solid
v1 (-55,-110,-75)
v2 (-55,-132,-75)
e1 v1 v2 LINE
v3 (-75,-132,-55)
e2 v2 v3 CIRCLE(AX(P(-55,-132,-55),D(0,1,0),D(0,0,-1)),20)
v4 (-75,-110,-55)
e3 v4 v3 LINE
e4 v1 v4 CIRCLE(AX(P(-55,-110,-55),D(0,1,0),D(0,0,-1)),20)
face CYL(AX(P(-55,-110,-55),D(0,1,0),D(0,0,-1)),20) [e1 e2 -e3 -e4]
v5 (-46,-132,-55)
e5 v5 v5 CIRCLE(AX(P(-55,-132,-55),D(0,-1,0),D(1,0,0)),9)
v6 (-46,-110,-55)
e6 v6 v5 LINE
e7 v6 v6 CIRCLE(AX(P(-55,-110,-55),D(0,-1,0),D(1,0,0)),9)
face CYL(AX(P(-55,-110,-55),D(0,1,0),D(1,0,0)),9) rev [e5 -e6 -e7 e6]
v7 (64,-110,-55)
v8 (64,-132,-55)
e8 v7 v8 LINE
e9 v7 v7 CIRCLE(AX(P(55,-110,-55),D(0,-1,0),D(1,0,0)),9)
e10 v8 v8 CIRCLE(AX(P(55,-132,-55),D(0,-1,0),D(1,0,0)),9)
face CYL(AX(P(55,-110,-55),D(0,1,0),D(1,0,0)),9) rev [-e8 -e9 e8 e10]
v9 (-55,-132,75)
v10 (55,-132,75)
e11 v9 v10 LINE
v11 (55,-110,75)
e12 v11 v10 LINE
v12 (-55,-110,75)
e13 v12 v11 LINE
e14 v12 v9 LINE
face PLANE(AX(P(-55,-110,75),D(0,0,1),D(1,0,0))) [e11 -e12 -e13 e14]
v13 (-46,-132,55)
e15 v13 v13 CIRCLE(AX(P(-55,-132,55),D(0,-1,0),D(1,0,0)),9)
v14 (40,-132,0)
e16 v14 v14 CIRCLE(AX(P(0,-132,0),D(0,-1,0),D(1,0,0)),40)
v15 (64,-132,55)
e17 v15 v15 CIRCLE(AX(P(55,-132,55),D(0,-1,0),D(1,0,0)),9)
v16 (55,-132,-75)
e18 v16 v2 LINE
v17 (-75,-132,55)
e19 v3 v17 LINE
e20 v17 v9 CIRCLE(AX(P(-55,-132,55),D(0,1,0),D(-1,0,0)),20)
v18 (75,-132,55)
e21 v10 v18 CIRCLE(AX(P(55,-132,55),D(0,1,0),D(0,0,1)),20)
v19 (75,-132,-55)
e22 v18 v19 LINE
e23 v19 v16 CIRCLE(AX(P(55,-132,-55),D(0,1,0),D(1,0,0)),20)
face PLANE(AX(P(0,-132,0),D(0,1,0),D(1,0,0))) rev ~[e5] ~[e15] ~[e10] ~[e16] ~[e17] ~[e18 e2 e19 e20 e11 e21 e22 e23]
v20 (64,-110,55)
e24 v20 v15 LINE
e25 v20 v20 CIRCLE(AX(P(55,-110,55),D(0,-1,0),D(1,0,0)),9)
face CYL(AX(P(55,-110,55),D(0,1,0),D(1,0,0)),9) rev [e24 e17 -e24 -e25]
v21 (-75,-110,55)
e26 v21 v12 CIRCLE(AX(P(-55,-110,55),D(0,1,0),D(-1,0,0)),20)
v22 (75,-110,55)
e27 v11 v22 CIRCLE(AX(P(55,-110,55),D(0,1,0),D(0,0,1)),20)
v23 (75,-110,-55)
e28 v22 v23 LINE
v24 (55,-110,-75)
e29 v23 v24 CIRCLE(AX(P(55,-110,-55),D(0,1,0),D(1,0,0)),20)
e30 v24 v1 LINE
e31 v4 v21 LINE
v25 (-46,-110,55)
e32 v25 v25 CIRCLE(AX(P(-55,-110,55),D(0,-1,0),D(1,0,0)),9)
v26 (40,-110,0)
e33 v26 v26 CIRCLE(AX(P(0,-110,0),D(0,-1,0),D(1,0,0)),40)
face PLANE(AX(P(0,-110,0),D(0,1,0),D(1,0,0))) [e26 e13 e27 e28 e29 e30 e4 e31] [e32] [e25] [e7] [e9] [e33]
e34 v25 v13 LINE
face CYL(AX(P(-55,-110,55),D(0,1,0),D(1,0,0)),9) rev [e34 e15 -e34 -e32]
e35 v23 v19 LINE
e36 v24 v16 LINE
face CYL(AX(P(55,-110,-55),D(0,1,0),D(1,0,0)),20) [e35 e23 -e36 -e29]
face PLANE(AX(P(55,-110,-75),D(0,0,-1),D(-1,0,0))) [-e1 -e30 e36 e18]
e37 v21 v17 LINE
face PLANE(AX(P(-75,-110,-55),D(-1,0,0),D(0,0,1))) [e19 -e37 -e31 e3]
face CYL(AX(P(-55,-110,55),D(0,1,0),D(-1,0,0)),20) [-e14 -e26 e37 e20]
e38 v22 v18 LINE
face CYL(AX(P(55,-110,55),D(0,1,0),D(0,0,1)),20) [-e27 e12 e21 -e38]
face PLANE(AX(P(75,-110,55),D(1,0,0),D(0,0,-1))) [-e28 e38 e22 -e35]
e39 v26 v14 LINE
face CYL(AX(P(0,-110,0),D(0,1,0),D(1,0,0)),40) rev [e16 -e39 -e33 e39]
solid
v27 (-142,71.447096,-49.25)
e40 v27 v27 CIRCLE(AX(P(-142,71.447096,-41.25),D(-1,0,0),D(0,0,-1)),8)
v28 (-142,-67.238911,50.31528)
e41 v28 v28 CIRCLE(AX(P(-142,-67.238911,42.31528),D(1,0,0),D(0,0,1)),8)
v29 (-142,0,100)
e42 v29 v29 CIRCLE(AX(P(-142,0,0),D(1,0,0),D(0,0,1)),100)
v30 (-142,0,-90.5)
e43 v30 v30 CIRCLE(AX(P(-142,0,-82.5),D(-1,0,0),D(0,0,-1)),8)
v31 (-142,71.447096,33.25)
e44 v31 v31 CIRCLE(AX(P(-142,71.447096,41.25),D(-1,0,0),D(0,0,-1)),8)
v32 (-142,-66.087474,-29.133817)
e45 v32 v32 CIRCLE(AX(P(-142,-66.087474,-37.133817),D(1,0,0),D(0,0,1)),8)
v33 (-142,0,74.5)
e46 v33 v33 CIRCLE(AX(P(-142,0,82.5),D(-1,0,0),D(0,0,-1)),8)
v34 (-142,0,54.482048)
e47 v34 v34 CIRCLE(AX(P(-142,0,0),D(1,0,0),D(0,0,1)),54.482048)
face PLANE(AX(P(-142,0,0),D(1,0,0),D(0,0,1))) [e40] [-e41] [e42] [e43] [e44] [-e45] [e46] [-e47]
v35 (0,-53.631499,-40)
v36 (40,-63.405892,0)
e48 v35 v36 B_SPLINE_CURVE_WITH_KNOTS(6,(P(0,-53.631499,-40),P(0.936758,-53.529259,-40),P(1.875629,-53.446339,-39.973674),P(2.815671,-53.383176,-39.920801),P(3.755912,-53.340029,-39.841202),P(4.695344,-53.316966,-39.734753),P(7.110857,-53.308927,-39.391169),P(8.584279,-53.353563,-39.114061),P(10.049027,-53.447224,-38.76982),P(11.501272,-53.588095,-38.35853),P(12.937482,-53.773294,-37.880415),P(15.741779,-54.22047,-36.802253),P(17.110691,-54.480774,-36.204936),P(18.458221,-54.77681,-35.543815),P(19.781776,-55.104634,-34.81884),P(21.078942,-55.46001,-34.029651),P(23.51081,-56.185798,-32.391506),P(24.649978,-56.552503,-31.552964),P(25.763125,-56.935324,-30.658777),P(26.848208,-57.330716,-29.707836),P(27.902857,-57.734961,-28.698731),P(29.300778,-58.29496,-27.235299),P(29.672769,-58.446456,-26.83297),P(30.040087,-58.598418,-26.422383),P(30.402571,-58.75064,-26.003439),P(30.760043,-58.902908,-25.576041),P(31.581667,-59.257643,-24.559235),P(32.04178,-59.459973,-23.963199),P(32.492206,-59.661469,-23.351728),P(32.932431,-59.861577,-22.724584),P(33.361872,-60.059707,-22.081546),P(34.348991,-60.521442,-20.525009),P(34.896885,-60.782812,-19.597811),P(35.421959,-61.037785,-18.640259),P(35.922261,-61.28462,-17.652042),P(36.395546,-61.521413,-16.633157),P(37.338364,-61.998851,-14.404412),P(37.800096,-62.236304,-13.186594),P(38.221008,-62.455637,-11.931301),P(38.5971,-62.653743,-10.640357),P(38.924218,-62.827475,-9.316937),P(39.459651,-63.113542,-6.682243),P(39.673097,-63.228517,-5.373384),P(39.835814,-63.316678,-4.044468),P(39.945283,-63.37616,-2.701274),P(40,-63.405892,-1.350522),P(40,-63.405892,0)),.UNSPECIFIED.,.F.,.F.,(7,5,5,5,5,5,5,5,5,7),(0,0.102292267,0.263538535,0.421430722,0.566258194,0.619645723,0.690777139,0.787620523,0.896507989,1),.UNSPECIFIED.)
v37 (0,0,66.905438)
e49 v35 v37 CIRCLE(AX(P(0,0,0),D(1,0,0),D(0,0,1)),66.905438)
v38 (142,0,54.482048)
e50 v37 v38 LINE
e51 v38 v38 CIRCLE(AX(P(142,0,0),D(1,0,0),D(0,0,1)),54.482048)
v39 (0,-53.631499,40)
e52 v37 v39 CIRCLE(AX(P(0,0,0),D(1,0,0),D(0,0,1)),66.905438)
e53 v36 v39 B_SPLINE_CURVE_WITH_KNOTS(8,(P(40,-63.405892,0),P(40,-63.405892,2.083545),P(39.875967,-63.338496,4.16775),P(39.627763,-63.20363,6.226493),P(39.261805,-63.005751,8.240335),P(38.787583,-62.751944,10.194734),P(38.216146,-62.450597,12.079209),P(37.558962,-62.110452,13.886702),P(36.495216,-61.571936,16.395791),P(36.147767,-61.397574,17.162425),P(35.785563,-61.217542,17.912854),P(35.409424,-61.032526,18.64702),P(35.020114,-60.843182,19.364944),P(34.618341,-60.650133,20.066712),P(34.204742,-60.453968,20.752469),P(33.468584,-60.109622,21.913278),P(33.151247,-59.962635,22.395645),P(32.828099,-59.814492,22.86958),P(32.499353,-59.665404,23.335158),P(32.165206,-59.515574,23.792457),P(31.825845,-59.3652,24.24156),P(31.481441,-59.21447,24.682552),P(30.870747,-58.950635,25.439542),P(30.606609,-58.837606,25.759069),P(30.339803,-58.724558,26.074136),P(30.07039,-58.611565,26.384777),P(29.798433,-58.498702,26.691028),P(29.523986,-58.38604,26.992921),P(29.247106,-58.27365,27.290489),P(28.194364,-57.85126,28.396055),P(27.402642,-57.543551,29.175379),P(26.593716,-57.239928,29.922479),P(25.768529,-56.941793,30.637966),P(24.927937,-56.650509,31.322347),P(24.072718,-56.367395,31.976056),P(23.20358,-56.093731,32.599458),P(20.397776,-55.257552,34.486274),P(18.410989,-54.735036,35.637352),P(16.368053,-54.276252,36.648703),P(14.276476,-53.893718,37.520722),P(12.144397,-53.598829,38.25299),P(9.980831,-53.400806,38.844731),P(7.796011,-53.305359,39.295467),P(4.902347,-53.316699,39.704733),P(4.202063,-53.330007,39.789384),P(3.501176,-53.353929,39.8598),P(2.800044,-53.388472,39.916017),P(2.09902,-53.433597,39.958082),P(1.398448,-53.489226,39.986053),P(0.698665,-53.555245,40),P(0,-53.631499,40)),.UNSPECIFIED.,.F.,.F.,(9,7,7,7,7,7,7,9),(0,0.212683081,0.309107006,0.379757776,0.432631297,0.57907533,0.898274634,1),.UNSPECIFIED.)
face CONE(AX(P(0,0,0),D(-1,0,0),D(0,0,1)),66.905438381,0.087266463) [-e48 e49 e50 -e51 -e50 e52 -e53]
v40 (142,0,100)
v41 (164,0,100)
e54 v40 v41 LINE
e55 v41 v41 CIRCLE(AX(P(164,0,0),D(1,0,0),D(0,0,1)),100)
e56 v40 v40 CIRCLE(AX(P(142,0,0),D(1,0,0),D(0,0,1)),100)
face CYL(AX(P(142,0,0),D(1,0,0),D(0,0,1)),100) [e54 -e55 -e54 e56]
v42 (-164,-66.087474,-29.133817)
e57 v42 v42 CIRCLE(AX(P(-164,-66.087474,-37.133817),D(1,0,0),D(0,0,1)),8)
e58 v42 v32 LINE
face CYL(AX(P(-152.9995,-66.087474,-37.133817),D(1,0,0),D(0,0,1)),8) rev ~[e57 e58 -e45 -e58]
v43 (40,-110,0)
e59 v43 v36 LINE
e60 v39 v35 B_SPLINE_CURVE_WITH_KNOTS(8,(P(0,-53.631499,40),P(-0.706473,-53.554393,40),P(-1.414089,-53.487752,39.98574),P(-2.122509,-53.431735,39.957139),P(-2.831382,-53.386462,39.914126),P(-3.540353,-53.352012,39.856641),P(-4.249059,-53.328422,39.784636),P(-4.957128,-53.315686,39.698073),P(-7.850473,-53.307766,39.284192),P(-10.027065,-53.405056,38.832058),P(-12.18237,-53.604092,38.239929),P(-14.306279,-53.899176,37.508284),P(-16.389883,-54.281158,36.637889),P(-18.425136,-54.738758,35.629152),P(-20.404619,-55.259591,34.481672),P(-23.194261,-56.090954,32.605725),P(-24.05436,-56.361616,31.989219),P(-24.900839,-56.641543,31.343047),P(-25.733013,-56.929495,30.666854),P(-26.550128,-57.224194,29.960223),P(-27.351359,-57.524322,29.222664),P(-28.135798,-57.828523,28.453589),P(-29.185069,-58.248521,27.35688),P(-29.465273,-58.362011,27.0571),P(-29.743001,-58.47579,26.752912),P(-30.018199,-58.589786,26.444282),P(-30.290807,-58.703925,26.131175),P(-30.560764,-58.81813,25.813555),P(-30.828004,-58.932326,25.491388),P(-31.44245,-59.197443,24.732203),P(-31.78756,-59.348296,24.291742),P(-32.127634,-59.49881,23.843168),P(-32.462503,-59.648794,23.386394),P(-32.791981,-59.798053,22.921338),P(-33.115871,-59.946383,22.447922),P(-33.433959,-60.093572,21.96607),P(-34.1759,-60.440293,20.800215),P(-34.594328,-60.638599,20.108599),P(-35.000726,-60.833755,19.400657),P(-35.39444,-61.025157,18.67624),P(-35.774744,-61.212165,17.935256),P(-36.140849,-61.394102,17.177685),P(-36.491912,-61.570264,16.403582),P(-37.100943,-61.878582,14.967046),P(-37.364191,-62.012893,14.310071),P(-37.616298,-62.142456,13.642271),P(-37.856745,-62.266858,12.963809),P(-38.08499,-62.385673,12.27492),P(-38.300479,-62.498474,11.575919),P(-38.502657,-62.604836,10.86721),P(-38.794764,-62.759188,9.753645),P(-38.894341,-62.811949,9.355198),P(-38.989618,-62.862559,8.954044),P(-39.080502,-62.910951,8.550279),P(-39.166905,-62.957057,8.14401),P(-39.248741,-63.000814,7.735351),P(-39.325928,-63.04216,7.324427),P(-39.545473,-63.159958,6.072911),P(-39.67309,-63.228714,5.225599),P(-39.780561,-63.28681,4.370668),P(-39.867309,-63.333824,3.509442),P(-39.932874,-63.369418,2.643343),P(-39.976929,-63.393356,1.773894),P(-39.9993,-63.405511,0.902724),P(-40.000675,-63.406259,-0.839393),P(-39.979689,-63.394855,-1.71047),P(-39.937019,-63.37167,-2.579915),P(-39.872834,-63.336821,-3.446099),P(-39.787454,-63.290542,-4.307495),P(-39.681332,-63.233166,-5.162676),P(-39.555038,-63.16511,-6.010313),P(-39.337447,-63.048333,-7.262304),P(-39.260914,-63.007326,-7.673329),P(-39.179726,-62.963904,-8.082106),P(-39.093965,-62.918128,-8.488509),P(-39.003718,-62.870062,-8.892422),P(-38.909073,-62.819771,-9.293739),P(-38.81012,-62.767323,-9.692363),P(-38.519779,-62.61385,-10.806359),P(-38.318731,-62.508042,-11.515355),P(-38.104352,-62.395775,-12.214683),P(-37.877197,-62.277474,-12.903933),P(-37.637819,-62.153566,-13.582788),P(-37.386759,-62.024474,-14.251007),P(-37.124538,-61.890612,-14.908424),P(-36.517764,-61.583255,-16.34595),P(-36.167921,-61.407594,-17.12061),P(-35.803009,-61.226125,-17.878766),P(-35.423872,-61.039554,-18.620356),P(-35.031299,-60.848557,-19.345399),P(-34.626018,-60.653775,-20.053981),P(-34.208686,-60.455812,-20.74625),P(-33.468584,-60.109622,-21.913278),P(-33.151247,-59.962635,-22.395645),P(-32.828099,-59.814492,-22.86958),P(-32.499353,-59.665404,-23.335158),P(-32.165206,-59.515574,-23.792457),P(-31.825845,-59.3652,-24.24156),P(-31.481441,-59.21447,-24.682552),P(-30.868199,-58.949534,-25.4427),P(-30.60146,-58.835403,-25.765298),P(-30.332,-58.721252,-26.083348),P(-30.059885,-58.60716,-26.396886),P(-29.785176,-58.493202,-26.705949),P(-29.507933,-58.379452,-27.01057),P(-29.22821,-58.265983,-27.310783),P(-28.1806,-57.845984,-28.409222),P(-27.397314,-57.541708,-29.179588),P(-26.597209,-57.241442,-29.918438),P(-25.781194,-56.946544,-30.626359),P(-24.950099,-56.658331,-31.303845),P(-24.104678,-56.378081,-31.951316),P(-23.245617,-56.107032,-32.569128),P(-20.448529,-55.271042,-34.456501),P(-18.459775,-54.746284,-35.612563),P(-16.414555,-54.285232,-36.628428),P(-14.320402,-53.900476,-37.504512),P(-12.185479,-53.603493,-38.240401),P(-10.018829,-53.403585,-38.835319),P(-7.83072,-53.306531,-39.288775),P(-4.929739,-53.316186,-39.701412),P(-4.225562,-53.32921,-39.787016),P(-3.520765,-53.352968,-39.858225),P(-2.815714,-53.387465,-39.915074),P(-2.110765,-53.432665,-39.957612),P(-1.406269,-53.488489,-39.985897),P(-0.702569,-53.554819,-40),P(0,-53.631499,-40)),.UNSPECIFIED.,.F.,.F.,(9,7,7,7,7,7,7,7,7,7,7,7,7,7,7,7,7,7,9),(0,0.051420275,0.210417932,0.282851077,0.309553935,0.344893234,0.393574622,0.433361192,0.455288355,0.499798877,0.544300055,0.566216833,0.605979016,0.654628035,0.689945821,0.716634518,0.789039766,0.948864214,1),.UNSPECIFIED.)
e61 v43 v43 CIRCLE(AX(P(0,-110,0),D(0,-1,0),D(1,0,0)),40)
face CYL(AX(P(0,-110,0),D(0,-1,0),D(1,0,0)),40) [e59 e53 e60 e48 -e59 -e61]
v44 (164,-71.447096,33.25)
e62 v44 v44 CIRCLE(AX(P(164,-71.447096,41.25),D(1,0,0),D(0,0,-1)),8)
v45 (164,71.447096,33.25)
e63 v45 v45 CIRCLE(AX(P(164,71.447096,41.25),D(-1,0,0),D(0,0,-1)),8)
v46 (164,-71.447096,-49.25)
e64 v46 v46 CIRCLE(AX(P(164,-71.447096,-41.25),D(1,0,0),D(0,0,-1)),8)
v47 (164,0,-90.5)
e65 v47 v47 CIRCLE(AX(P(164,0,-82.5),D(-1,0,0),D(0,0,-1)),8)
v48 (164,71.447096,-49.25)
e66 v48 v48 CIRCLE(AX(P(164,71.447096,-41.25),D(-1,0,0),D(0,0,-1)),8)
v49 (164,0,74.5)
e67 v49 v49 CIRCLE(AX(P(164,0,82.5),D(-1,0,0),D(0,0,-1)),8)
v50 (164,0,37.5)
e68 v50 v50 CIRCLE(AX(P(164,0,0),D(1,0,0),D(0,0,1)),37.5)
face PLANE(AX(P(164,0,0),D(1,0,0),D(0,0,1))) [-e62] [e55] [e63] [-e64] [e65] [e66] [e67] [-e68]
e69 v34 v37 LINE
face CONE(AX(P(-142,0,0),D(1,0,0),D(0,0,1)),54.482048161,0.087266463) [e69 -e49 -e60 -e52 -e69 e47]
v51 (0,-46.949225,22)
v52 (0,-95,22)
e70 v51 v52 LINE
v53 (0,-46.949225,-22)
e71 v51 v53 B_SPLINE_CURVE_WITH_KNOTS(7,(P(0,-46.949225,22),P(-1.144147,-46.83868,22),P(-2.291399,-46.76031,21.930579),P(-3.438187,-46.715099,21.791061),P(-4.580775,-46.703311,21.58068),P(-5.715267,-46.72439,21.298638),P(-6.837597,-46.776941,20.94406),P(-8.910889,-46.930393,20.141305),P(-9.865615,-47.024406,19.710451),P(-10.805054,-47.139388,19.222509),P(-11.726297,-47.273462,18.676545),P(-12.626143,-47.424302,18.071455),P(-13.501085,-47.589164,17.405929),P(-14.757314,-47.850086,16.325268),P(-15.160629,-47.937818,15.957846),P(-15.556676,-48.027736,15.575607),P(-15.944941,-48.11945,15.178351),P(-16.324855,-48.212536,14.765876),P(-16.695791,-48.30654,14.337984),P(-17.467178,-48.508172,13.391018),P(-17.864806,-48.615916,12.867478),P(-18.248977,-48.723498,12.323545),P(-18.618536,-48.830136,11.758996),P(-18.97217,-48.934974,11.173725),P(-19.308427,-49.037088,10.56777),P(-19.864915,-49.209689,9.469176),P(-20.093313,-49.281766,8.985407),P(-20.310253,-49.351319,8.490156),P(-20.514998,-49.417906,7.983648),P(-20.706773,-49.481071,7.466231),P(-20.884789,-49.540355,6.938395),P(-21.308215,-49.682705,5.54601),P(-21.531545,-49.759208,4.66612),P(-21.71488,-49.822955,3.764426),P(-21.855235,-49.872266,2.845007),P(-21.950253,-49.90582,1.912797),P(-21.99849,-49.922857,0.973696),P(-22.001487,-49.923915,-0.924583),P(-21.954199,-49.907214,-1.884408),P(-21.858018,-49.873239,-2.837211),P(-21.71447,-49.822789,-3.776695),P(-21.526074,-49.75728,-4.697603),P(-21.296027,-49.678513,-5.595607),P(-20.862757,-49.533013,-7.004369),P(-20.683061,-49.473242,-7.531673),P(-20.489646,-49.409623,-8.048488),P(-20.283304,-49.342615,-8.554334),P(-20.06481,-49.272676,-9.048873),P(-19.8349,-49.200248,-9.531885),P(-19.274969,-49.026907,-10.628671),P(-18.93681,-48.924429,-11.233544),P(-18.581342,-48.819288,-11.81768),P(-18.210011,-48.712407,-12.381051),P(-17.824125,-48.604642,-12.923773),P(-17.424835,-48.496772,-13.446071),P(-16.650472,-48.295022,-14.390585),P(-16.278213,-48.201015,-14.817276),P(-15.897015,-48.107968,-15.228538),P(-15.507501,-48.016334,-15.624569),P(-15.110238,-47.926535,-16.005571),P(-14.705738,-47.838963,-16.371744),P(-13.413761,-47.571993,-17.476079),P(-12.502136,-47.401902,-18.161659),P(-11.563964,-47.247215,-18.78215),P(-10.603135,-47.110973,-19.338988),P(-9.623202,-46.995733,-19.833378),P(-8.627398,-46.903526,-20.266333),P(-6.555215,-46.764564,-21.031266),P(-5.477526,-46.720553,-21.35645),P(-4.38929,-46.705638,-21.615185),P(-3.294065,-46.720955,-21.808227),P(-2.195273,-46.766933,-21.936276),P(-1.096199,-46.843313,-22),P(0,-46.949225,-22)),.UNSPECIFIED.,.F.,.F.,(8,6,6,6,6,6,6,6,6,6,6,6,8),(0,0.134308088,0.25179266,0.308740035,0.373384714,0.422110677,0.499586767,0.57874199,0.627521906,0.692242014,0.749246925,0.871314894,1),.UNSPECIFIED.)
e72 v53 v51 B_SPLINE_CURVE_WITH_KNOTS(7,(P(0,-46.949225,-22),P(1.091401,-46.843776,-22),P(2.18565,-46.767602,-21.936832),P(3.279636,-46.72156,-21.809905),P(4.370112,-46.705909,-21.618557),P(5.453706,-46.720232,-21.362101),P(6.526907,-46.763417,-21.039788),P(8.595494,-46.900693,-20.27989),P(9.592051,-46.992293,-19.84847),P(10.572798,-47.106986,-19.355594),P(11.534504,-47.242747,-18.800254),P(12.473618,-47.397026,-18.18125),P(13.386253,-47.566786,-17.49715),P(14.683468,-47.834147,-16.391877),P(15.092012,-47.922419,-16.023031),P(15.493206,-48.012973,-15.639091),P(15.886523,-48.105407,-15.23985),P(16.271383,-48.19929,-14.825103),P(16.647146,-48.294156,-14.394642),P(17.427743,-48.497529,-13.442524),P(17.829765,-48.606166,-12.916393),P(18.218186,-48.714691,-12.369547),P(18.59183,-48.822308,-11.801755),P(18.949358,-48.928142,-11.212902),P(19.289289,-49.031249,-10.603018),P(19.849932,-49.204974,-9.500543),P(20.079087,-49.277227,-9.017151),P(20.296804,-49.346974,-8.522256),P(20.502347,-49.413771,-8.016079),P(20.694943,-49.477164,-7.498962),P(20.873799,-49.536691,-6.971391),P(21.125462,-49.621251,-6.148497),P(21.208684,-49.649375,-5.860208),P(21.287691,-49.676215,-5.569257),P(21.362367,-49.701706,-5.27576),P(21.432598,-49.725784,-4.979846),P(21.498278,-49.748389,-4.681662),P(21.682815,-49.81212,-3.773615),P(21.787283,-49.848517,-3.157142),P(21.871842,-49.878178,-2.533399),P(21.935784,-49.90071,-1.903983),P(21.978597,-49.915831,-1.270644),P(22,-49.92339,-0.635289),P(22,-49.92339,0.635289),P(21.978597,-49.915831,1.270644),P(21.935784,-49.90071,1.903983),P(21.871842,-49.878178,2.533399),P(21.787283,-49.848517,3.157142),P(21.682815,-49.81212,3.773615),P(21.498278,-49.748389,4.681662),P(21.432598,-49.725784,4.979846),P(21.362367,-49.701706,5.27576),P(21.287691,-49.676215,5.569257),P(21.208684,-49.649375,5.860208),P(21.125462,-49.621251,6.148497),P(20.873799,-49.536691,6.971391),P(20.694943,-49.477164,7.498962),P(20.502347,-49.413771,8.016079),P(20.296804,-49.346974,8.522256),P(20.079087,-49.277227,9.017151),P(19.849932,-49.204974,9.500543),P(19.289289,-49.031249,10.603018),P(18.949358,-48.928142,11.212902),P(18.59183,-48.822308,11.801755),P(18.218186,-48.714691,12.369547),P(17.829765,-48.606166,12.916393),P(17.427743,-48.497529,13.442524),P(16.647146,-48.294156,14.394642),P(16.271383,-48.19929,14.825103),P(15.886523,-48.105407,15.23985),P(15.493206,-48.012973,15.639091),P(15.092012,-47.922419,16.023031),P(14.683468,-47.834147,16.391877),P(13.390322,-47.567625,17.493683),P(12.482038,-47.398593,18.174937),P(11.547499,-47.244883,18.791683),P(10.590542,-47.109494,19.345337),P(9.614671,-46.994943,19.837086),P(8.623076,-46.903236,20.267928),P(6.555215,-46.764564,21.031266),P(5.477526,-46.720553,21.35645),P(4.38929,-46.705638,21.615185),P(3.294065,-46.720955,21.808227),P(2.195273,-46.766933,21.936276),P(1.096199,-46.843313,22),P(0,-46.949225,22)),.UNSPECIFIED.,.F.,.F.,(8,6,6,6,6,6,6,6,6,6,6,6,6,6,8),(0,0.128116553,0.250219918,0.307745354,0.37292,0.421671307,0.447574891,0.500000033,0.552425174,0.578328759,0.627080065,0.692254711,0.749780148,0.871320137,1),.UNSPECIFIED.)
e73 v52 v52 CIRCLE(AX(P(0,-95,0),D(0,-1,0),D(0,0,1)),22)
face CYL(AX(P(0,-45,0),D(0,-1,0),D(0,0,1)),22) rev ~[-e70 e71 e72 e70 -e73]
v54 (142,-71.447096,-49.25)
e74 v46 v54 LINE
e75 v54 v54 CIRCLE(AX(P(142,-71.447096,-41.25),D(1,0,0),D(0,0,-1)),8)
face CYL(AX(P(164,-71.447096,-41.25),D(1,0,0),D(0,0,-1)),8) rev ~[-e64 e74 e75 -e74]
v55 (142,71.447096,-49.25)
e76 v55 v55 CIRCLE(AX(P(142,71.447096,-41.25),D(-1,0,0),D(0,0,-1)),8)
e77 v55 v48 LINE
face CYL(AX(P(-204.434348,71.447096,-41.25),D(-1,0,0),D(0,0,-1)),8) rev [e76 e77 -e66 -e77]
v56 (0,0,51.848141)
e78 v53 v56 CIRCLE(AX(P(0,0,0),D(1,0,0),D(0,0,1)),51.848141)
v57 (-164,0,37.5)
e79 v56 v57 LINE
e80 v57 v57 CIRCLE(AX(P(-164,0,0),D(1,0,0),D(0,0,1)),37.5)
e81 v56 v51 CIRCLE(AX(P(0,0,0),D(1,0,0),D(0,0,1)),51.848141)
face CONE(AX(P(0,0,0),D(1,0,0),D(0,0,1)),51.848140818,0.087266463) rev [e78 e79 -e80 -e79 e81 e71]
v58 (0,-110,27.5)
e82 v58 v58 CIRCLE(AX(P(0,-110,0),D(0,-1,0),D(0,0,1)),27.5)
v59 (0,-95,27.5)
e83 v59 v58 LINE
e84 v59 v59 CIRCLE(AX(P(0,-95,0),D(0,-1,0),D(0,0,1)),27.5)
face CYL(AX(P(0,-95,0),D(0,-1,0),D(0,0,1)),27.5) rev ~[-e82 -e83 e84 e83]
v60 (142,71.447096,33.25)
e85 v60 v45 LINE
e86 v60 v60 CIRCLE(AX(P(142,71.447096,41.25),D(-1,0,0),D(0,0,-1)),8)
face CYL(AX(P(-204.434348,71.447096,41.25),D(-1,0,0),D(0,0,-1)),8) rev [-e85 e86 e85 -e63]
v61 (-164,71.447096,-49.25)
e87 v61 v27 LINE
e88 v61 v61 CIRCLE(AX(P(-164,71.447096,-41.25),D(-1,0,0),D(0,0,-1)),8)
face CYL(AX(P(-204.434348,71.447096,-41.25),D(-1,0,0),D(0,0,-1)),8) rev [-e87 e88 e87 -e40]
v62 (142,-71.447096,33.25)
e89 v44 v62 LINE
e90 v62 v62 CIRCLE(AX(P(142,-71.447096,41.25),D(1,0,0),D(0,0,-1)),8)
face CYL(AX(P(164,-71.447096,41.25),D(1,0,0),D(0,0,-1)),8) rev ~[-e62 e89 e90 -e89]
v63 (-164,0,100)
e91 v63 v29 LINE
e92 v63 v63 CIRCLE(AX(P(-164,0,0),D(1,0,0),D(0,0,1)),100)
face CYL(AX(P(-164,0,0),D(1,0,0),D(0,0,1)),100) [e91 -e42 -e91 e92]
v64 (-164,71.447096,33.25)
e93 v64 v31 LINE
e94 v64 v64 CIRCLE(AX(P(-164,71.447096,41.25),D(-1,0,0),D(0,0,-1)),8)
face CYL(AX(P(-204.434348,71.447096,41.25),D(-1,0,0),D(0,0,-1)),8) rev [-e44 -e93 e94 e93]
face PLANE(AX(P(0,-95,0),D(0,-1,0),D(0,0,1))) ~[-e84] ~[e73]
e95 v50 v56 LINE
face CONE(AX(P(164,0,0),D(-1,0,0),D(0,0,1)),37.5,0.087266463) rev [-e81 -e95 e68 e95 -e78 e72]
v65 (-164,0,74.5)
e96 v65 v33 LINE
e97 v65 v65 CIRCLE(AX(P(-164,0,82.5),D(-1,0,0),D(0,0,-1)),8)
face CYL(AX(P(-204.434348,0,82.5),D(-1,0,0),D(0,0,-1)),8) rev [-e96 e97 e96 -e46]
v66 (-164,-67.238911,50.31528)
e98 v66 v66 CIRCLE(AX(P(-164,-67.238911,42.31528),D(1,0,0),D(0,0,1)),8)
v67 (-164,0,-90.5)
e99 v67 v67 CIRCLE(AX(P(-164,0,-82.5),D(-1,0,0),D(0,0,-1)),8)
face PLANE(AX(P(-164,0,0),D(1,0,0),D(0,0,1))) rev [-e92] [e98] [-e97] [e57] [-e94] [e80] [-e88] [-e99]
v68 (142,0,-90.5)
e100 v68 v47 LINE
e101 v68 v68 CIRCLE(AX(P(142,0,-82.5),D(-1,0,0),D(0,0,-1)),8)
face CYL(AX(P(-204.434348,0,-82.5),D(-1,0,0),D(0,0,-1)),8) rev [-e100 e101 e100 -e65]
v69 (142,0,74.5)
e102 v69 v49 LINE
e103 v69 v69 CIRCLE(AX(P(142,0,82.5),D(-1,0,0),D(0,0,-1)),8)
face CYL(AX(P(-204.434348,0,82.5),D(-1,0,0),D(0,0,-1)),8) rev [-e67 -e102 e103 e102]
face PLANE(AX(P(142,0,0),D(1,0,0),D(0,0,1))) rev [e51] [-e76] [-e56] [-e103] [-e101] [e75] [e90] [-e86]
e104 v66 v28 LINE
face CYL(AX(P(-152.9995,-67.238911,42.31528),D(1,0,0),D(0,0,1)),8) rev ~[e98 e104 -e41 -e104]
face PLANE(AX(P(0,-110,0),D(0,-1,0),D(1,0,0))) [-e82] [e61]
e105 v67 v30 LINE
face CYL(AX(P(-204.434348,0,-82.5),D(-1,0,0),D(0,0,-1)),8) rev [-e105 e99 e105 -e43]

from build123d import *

# Parameters (mm, degrees)
SKETCH3_R                       = 40
SKETCH3_R_2                     = 9
BOSS_EXTRUDE2_DEPTH             = 22
BOSS_EXTRUDE3_REACH             = 286.598
SKETCH3_3_R                     = 40
CUT_EXTRUDE3_DEPTH              = 368.434347967
CUT_EXTRUDE3_DEPTH_BACK         = 368.434347967
SKETCH11_R                      = 8
SKETCH11_4_R                    = 8
CUT_EXTRUDE5_DEPTH              = 22
SKETCH16_W                      = 8
SKETCH16_H                      = 22.001
F_16_0MM_DOWEL_HOLE3_AT_2_COUNT = 2
F_16_0MM_DOWEL_HOLE3_AT_2_PITCH = 79.457440641


with BuildPart() as part:
    # Sketch1 → Revolve1 (revolve)
    with BuildSketch(Plane.XY, mode=Mode.PRIVATE) as revolve1_sk:
        Polygon((-142, -100), (-142, -54.482048161), (0, -66.905438381), (142, -54.482048161), (142, -100), (164, -100), (164, -37.5), (0, -51.848140818), (-164, -37.5), (-164, -100), align=None)
    revolve(revolve1_sk.sketch.rotate(Axis((0, 0, 0), (1, 0, 0)), 270), axis=Axis((0, 0, 0), (1, 0, 0)))

    # Sketch3<3> → Boss-Extrude3 (add, up to next)
    with BuildSketch(Plane(origin=(0, -110, 0), x_dir=(-1, 0, 0), z_dir=(0, -1, 0)), mode=Mode.PRIVATE) as boss_extrude3_sk1:
        with Locations(Location((0, 0, 0), (0, 0, 180))):
            Circle(SKETCH3_3_R)
    boss_extrude3_tool1 = extrude(boss_extrude3_sk1.sketch, amount=-BOSS_EXTRUDE3_REACH, mode=Mode.PRIVATE) - part.part
    add(boss_extrude3_tool1.solids().sort_by_distance((0, -110, 0))[0])

    # Sketch5 → Cut-Revolve4 (revolve, cut)
    with BuildSketch(Plane.XY, mode=Mode.PRIVATE) as cut_revolve4_sk:
        Polygon((-22, -45), (-22, -95), (-27.5, -95), (-27.5, -110), (0, -110), (0, -53.631499), (0, -45), align=None)
    revolve(cut_revolve4_sk.sketch.rotate(Axis((0, 0, 0), (0, -1, 0)), 270), axis=Axis((0, 0, 0), (0, -1, 0)), mode=Mode.SUBTRACT)

    # Sketch11 → Cut-Extrude3 (cut, two sides: drawn at the far end of the back side and taken through both)
    with BuildSketch(Plane(origin=(164, 0, 0), x_dir=(0, 0, -1), z_dir=(1, 0, 0)).offset(-CUT_EXTRUDE3_DEPTH_BACK)):
        with Locations((-41.25, 71.447095812)):
            Circle(SKETCH11_R)
        with Locations((41.25, 71.447095812)):
            Circle(SKETCH11_R)
        with Locations((-82.5, 0)):
            Circle(SKETCH11_R)
        with Locations((82.5, 0)):
            Circle(SKETCH11_R)
    extrude(amount=CUT_EXTRUDE3_DEPTH + CUT_EXTRUDE3_DEPTH_BACK, mode=Mode.SUBTRACT)

    # Sketch11<4> → Cut-Extrude5 (cut)
    with BuildSketch(Plane(origin=(164, 0, 0), x_dir=(0, 0, -1), z_dir=(1, 0, 0))):
        with Locations((-41.25, -71.447095812)):
            Circle(SKETCH11_4_R)
        with Locations((41.25, -71.447095812)):
            Circle(SKETCH11_4_R)
    extrude(amount=-CUT_EXTRUDE5_DEPTH, mode=Mode.SUBTRACT)

    # Sketch16 → Ø16.0mm Dowel Hole3 (revolve, cut)
    with BuildSketch(Plane(origin=(-164, -66.087474409, -37.133817234), x_dir=(0, 0, 1), z_dir=(0, 1, 0))):
        with Locations((4, 11.0005)):
            Rectangle(SKETCH16_W, SKETCH16_H)
    f_16_0mm_dowel_hole3 = revolve(axis=Axis((-170.35, -66.087474409, -37.133817234), (1, 0, 0)), mode=Mode.SUBTRACT)

    # Ø16.0mm Dowel Hole3 at 2: Ø16.0mm Dowel Hole3 ×2
    with Locations(*[Vector(0, -0.014491231834595558, 0.9998949965870997) * (i * F_16_0MM_DOWEL_HOLE3_AT_2_PITCH) for i in range(1, F_16_0MM_DOWEL_HOLE3_AT_2_COUNT)]):
        add(f_16_0mm_dowel_hole3, mode=Mode.SUBTRACT)


with BuildPart() as body_2:
    # Sketch3 → Boss-Extrude2 (new body)
    with BuildSketch(Plane(origin=(0, -110, 0), x_dir=(-1, 0, 0), z_dir=(0, -1, 0))):
        with BuildLine():
            Line((-55, 75), (55, 75))
            ThreePointArc((55, 75), (69.142135624, 69.142135624), (75, 55))
            Line((75, 55), (75, -55))
            ThreePointArc((75, -55), (69.142135624, -69.142135624), (55, -75))
            Line((55, -75), (-55, -75))
            ThreePointArc((-55, -75), (-69.142135624, -69.142135624), (-75, -55))
            Line((-75, -55), (-75, 55))
            ThreePointArc((-75, 55), (-69.142135624, 69.142135624), (-55, 75))
        make_face()
        with Locations(Location((0, 0, 0), (0, 0, 180))):
            Circle(SKETCH3_R, mode=Mode.SUBTRACT)
        with Locations(Location((-55, 55, 0), (0, 0, 180))):
            Circle(SKETCH3_R_2, mode=Mode.SUBTRACT)
        with Locations(Location((-55, -55, 0), (0, 0, 180))):
            Circle(SKETCH3_R_2, mode=Mode.SUBTRACT)
        with Locations(Location((55, -55, 0), (0, 0, 180))):
            Circle(SKETCH3_R_2, mode=Mode.SUBTRACT)
        with Locations(Location((55, 55, 0), (0, 0, 180))):
            Circle(SKETCH3_R_2, mode=Mode.SUBTRACT)
    extrude(amount=BOSS_EXTRUDE2_DEPTH)


solid = Compound([part.part, body_2.part])
